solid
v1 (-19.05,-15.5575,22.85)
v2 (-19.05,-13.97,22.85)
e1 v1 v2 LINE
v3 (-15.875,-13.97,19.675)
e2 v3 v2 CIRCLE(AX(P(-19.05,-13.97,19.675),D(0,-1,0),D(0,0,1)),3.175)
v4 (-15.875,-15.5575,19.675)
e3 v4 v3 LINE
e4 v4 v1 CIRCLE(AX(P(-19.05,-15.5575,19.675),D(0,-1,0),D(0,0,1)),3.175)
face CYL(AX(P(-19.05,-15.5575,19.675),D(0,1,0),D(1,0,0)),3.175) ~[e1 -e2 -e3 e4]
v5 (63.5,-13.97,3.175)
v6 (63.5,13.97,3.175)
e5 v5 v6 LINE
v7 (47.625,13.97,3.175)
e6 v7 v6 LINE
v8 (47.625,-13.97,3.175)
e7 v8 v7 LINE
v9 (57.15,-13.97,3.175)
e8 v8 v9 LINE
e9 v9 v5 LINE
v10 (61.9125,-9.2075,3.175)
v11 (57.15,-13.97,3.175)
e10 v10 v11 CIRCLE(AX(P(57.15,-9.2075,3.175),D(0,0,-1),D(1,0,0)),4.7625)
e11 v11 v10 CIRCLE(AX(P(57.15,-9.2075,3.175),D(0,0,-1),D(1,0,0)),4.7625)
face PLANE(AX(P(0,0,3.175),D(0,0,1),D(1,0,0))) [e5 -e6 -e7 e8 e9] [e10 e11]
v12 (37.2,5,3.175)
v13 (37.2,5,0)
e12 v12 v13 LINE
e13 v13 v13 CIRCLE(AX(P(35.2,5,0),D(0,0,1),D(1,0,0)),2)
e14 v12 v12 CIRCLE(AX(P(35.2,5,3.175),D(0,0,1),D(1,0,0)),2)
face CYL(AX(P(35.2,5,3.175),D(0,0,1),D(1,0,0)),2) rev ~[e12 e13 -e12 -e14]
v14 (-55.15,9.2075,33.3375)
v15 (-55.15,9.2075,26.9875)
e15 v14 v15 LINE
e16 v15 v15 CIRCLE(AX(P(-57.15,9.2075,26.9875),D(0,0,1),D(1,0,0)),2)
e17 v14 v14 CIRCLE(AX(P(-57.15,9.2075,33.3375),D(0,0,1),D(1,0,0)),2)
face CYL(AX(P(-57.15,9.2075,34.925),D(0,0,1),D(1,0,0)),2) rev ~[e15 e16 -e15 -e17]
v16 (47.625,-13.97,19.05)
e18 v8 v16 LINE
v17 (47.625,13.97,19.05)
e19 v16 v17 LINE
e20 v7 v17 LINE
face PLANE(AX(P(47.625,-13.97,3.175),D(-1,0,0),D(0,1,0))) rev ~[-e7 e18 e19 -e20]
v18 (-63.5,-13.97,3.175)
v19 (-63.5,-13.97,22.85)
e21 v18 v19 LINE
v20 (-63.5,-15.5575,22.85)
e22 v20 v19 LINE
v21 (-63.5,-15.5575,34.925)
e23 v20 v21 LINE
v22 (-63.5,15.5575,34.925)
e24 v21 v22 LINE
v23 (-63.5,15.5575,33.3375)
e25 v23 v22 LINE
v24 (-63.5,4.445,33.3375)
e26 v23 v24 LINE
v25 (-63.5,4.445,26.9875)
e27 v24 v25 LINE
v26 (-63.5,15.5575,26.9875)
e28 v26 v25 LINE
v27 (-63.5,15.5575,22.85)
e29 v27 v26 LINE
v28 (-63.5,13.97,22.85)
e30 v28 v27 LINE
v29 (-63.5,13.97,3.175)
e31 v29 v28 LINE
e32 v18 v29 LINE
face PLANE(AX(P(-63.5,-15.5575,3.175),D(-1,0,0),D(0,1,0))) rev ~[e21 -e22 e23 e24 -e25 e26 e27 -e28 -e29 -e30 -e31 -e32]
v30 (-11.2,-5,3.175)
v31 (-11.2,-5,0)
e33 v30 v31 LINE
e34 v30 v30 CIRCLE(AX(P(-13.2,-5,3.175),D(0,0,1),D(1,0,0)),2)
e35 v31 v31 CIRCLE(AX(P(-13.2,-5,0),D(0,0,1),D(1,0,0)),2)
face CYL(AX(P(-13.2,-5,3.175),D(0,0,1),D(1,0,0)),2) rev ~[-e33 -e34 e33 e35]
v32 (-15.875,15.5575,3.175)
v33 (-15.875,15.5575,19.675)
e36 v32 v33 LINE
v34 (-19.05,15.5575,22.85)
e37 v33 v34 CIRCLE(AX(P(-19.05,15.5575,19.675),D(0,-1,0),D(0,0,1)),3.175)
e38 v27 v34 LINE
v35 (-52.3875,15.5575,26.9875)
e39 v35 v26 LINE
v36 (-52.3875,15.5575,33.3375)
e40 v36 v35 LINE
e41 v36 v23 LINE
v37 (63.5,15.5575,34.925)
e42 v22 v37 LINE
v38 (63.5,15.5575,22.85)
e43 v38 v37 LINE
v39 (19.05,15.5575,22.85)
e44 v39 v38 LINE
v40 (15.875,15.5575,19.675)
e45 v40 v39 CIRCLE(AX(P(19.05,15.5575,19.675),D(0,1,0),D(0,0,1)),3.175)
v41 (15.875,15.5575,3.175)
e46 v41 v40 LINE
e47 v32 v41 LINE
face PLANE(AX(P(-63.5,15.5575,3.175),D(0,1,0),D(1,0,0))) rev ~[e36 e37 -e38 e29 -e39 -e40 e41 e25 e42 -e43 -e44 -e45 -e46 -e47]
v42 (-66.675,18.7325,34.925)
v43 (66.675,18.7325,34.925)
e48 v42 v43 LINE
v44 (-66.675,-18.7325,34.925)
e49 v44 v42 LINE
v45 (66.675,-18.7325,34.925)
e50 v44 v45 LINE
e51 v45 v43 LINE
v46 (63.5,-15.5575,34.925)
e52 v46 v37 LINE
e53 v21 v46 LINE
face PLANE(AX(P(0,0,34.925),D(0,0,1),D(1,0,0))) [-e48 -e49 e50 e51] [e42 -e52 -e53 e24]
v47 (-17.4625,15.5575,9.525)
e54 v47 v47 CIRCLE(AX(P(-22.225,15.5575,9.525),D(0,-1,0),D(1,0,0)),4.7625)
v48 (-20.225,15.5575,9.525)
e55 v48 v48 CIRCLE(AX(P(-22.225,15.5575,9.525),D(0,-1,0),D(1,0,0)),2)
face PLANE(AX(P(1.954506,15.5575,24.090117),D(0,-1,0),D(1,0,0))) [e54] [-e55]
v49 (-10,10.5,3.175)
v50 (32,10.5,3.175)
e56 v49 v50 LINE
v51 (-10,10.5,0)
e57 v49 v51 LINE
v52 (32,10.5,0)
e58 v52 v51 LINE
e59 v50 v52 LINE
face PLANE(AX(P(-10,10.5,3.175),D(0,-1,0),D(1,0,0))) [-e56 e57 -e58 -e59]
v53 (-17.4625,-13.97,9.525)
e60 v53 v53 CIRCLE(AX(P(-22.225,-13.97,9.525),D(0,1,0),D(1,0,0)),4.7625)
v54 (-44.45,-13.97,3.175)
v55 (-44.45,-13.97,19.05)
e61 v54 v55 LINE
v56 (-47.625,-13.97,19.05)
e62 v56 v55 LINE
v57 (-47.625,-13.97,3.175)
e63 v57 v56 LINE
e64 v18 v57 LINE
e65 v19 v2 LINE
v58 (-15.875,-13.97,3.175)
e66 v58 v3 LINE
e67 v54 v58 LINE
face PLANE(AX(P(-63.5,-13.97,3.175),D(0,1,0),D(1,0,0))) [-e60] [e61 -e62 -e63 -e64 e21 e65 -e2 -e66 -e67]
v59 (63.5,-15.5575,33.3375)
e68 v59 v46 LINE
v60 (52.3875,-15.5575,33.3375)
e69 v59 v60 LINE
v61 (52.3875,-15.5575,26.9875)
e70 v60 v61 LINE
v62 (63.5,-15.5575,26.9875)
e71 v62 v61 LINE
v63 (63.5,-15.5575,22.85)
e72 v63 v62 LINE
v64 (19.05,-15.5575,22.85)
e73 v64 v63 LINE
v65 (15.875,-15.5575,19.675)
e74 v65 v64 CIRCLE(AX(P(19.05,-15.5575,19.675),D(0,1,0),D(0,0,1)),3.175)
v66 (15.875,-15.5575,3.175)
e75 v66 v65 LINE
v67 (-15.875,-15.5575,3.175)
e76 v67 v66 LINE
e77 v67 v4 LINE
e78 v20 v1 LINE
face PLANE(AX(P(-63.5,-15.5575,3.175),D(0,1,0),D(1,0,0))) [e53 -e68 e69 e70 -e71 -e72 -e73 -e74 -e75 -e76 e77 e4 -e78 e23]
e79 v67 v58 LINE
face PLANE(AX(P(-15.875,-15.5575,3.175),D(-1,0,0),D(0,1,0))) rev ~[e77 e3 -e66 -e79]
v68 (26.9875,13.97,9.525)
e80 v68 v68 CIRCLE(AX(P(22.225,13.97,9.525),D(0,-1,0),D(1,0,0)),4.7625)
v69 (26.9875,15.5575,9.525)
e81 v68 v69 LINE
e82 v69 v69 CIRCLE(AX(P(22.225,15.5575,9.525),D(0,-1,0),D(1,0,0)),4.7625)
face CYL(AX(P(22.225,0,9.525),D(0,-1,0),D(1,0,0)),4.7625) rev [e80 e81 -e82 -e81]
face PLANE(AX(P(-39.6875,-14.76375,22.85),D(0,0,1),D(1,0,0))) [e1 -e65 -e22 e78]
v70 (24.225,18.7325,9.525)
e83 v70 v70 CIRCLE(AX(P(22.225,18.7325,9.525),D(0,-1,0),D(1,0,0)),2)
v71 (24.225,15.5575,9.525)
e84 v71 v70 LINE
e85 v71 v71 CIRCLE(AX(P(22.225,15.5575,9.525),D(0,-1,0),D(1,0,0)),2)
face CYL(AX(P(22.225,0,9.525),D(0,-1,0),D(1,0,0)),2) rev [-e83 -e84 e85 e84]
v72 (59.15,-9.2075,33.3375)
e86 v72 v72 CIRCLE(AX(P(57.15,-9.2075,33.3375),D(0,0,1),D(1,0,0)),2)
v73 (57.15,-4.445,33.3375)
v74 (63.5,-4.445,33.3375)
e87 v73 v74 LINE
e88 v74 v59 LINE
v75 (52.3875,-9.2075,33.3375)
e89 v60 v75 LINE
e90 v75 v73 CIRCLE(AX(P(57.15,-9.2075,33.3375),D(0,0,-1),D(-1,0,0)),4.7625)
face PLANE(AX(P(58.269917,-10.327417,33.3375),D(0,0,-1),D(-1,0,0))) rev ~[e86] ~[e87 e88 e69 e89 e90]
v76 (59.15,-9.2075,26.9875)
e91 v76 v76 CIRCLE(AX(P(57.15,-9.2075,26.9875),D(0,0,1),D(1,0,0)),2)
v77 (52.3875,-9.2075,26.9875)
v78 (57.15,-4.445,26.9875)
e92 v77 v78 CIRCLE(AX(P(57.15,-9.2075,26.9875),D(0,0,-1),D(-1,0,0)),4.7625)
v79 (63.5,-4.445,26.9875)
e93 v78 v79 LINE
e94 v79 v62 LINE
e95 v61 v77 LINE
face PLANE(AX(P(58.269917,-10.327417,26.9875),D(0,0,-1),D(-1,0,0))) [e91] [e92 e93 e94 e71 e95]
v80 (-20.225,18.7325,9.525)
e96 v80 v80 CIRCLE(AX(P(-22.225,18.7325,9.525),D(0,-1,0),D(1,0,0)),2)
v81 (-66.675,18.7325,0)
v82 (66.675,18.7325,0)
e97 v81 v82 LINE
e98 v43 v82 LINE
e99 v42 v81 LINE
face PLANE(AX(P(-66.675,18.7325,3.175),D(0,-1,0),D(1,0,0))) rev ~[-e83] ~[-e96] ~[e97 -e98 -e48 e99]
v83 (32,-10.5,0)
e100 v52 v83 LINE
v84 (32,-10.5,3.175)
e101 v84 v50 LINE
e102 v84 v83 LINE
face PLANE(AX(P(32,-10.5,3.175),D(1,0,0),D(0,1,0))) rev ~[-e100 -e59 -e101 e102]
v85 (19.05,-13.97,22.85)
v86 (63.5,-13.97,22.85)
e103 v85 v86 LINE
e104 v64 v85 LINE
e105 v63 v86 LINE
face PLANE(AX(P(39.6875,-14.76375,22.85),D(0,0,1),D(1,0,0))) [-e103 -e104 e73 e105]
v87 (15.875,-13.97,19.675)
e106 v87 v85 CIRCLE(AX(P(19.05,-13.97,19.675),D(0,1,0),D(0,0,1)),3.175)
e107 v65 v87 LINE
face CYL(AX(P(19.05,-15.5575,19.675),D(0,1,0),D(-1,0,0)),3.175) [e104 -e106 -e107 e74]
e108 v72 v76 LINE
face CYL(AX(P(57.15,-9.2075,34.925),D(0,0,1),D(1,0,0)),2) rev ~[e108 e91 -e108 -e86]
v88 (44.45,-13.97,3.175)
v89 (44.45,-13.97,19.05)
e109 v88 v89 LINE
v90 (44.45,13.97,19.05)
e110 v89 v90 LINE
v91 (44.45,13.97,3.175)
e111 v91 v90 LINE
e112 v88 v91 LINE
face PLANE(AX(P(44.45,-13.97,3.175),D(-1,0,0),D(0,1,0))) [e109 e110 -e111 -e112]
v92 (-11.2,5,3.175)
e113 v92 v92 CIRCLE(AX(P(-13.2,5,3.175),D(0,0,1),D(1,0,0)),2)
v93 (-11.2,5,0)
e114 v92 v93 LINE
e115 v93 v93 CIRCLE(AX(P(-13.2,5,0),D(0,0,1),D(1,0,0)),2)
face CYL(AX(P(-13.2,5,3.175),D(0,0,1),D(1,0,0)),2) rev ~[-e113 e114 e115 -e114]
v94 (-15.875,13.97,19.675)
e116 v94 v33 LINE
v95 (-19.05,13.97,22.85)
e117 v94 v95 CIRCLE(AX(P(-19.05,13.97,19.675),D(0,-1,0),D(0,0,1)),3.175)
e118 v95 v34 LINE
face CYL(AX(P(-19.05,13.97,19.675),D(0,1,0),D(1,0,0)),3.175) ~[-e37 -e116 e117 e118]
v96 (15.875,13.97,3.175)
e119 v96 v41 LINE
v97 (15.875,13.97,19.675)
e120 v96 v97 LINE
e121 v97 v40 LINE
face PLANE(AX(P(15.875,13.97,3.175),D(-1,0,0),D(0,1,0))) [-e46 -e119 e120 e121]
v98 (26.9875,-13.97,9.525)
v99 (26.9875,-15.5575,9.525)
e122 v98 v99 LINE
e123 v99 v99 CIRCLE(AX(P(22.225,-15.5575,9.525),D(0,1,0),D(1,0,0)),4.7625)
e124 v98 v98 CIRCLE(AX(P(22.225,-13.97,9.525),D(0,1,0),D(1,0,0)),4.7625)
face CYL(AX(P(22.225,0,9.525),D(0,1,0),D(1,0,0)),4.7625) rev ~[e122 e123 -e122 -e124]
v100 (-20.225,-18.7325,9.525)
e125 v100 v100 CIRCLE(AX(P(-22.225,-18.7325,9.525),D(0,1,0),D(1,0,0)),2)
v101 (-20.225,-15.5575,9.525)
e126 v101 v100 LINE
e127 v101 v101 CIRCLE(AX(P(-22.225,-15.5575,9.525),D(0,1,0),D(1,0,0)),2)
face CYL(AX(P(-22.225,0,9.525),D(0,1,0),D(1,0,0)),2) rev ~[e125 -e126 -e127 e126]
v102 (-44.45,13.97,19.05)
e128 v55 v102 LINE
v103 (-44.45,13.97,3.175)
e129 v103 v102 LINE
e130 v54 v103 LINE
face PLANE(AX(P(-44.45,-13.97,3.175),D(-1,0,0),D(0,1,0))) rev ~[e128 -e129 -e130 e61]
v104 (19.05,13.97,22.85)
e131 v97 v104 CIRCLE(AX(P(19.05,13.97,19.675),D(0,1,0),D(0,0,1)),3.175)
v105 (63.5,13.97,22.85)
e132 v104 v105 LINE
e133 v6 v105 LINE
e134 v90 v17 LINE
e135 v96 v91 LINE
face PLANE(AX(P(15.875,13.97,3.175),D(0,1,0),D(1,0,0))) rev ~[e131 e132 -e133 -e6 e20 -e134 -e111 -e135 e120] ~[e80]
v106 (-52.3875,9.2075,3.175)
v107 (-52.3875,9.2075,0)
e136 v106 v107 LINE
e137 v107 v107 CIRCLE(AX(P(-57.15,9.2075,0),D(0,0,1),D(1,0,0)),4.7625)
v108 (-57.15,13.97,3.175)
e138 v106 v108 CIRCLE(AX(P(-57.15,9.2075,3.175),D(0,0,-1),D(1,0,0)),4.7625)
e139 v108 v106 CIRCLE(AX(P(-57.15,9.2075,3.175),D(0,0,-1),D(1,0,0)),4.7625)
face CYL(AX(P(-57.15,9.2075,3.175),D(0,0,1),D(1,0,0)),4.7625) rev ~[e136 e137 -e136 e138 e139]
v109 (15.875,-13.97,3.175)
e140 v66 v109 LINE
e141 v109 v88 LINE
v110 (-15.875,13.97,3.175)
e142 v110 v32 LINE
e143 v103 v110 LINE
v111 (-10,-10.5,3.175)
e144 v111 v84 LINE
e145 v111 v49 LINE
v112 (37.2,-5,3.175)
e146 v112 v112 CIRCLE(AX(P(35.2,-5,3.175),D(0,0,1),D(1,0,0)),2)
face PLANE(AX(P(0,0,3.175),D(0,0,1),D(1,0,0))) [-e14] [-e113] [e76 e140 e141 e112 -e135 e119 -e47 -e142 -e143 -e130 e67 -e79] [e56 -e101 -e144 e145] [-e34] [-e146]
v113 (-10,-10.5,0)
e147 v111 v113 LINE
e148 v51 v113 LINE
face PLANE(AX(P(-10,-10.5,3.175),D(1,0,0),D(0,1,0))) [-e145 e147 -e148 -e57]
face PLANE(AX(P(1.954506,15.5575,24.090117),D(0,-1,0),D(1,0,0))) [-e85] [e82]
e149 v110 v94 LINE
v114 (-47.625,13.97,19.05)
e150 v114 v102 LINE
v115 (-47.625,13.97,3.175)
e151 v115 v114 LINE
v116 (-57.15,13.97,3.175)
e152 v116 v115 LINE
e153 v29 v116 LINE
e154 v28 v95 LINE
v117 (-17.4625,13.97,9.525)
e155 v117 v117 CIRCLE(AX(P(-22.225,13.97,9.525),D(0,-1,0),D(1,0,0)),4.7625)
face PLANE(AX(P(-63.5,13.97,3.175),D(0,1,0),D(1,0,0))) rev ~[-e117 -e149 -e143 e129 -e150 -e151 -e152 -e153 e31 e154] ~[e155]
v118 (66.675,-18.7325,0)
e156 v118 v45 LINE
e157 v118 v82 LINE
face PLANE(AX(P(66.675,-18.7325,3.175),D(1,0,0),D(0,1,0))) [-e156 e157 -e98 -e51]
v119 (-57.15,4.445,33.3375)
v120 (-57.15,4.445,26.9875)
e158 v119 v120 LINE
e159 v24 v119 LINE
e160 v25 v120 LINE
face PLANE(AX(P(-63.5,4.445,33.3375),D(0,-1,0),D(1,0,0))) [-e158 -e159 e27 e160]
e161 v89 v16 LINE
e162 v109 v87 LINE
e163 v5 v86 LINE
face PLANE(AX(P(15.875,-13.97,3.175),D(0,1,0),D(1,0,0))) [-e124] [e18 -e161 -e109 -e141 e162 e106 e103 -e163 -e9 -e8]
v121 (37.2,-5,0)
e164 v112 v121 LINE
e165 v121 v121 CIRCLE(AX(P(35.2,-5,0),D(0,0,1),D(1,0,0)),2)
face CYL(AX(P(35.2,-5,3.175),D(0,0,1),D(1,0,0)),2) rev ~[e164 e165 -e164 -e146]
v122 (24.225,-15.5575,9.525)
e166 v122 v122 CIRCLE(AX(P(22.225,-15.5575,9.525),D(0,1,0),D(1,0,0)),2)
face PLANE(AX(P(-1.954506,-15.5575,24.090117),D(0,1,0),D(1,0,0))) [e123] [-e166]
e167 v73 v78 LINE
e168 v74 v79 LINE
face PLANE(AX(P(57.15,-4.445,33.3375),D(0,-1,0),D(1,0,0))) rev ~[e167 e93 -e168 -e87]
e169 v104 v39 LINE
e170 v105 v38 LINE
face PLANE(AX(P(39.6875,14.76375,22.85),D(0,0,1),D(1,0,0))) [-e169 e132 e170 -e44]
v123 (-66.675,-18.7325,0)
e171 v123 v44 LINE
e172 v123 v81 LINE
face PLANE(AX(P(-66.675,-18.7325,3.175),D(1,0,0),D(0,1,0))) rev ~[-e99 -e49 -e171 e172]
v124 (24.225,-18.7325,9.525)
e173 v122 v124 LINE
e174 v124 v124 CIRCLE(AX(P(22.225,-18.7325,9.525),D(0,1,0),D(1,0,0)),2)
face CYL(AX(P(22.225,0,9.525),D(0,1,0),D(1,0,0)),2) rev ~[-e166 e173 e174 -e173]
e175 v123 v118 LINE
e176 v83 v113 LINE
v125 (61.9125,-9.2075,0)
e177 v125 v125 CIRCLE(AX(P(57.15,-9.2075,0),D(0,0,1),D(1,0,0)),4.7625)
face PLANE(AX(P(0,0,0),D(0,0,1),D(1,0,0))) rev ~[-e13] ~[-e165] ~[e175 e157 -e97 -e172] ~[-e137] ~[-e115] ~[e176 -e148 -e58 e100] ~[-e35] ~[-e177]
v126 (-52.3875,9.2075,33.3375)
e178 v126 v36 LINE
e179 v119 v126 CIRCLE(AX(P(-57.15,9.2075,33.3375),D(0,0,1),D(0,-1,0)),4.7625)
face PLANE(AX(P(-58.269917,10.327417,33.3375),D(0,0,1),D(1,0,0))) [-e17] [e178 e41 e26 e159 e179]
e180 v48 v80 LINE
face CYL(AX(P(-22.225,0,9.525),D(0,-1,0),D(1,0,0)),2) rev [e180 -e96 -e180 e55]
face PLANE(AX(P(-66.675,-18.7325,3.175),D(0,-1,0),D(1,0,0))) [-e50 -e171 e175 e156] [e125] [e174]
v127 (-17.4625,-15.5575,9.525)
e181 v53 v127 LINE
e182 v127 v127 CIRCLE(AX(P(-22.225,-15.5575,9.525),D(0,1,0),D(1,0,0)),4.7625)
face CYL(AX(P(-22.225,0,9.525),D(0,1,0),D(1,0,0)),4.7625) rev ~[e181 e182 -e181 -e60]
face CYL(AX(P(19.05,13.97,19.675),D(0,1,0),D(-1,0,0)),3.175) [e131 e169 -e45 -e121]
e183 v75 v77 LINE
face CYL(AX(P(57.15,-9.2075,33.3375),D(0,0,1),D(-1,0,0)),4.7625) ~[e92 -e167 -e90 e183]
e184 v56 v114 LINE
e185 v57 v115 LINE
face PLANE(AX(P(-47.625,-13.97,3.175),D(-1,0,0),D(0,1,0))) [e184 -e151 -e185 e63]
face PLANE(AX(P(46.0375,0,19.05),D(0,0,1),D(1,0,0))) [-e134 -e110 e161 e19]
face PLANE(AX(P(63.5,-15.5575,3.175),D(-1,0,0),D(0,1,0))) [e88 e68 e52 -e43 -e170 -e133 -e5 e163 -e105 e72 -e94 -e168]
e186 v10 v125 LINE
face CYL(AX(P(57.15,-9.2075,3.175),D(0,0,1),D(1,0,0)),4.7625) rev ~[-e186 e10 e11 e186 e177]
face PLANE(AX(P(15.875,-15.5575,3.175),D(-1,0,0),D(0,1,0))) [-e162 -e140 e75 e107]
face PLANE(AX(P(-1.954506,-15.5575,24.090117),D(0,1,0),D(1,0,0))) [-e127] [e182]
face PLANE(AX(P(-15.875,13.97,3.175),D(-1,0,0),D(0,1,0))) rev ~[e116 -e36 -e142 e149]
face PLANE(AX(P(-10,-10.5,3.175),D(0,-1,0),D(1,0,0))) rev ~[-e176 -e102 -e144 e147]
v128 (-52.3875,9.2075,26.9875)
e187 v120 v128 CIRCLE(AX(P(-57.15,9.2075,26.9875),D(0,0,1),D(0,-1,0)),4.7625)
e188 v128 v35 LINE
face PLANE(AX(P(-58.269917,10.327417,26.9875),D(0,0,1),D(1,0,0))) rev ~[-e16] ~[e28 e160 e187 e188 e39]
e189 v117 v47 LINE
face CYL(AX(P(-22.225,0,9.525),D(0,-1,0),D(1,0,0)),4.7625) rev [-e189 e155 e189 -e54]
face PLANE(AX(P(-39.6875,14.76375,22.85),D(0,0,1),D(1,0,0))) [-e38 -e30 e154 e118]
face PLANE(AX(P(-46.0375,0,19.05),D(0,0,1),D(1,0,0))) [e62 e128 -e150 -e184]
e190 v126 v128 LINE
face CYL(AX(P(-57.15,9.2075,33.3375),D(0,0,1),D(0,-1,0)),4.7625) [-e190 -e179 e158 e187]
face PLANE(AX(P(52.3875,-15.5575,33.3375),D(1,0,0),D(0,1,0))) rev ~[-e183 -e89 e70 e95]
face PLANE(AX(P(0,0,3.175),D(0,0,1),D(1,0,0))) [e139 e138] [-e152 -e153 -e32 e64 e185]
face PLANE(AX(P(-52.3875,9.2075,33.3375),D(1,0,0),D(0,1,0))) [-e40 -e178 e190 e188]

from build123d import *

# Parameters (mm, degrees)
SKETCH1_W                      = 127
SKETCH1_H                      = 31.115
BOSS_EXTRUDE1_DEPTH            = 3.175
CUT_EXTRUDE1_REACH             = 5.175
SKETCH2_R                      = 2
SKETCH2_W                      = 42
SKETCH2_H                      = 21
SKETCH3_W                      = 133.35
SKETCH3_H                      = 37.465
SKETCH3_W_2                    = 127
SKETCH3_H_2                    = 31.115
EXTRUDE_THIN1_DEPTH            = 31.75
EXTRUDE_THIN1_DEPTH_BACK       = 3.175
SKETCH4_W                      = 47.625
SKETCH4_H                      = 1.5875
BOSS_EXTRUDE2_DEPTH            = 19.67500002
CUT_EXTRUDE2_REACH             = 5.175
SKETCH6_R                      = 4.7625
BOSS_EXTRUDE4_START            = -1.5875
BOSS_EXTRUDE4_DEPTH            = 6.35
CUT_EXTRUDE3_REACH             = 36.925
SKETCH8_R                      = 2
SKETCH9_R                      = 2
CUT_EXTRUDE4_DEPTH             = 19.7325
CUT_EXTRUDE4_DEPTH_BACK        = 19.7325
SKETCH5_W                      = 3.175
SKETCH5_H                      = 27.94
BOSS_EXTRUDE3_DEPTH            = 15.875
FILLET1_R                      = 3.175
CUT_EXTRUDE5_REACH             = 20.733
SKETCH10_R                     = 4.7625
CUT_EXTRUDE5_DIRECTION_2_REACH = 20.733


with BuildPart() as part:
    # Sketch1 → Boss-Extrude1 (new body)
    with BuildSketch(Plane.XY):
        Rectangle(SKETCH1_W, SKETCH1_H)
    extrude(amount=BOSS_EXTRUDE1_DEPTH)

    # Sketch2 → Cut-Extrude1 (cut, up to next)
    with BuildSketch(Plane.XY.offset(3.175), mode=Mode.PRIVATE) as cut_extrude1_sk1:
        with Locations((-13.2, 5)):
            Circle(SKETCH2_R)
    cut_extrude1_tool1 = extrude(cut_extrude1_sk1.sketch, amount=-CUT_EXTRUDE1_REACH, mode=Mode.PRIVATE) & part.part
    add(cut_extrude1_tool1.solids().sort_by_distance((-13.2, 5, 3.175))[0], mode=Mode.SUBTRACT)
    # Sketch2 → Cut-Extrude1 (cut, up to next)
    with BuildSketch(Plane.XY.offset(3.175), mode=Mode.PRIVATE) as cut_extrude1_sk2:
        with Locations((-13.2, -5)):
            Circle(SKETCH2_R)
    cut_extrude1_tool2 = extrude(cut_extrude1_sk2.sketch, amount=-CUT_EXTRUDE1_REACH, mode=Mode.PRIVATE) & part.part
    add(cut_extrude1_tool2.solids().sort_by_distance((-13.2, -5, 3.175))[0], mode=Mode.SUBTRACT)
    # Sketch2 → Cut-Extrude1 (cut, up to next)
    with BuildSketch(Plane.XY.offset(3.175), mode=Mode.PRIVATE) as cut_extrude1_sk3:
        with Locations((35.2, 5)):
            Circle(SKETCH2_R)
    cut_extrude1_tool3 = extrude(cut_extrude1_sk3.sketch, amount=-CUT_EXTRUDE1_REACH, mode=Mode.PRIVATE) & part.part
    add(cut_extrude1_tool3.solids().sort_by_distance((35.2, 5, 3.175))[0], mode=Mode.SUBTRACT)
    # Sketch2 → Cut-Extrude1 (cut, up to next)
    with BuildSketch(Plane.XY.offset(3.175), mode=Mode.PRIVATE) as cut_extrude1_sk4:
        with Locations((35.2, -5)):
            Circle(SKETCH2_R)
    cut_extrude1_tool4 = extrude(cut_extrude1_sk4.sketch, amount=-CUT_EXTRUDE1_REACH, mode=Mode.PRIVATE) & part.part
    add(cut_extrude1_tool4.solids().sort_by_distance((35.2, -5, 3.175))[0], mode=Mode.SUBTRACT)
    # Sketch2 → Cut-Extrude1 (cut, up to next)
    with BuildSketch(Plane.XY.offset(3.175), mode=Mode.PRIVATE) as cut_extrude1_sk5:
        with Locations((11, 0)):
            Rectangle(SKETCH2_W, SKETCH2_H)
    cut_extrude1_tool5 = extrude(cut_extrude1_sk5.sketch, amount=-CUT_EXTRUDE1_REACH, mode=Mode.PRIVATE) & part.part
    add(cut_extrude1_tool5.solids().sort_by_distance((11, 0, 3.175))[0], mode=Mode.SUBTRACT)

    # Sketch3 → Extrude-Thin1 (add, two sides)
    with BuildSketch(Plane.XY.offset(3.175)) as extrude_thin1_sk:
        Rectangle(SKETCH3_W, SKETCH3_H)
        Rectangle(SKETCH3_W_2, SKETCH3_H_2, mode=Mode.SUBTRACT)
    extrude(amount=EXTRUDE_THIN1_DEPTH)
    extrude(extrude_thin1_sk.sketch, amount=-EXTRUDE_THIN1_DEPTH_BACK)

    # Sketch4 → Boss-Extrude2 (add)
    with BuildSketch(Plane.XY.offset(3.175)):
        with Locations((-39.6875, -14.76375)):
            Rectangle(SKETCH4_W, SKETCH4_H)
        with Locations((39.6875, -14.76375)):
            Rectangle(SKETCH4_W, SKETCH4_H)
        with Locations((-39.6875, 14.76375)):
            Rectangle(SKETCH4_W, SKETCH4_H)
        with Locations((39.6875, 14.76375)):
            Rectangle(SKETCH4_W, SKETCH4_H)
    extrude(amount=BOSS_EXTRUDE2_DEPTH)

    # Sketch6 → Cut-Extrude2 (cut, up to next)
    with BuildSketch(Plane.XY.offset(3.175), mode=Mode.PRIVATE) as cut_extrude2_sk1:
        with Locations((-57.15, 9.2075)):
            Circle(SKETCH6_R)
    cut_extrude2_tool1 = extrude(cut_extrude2_sk1.sketch, amount=-CUT_EXTRUDE2_REACH, mode=Mode.PRIVATE) & part.part
    add(cut_extrude2_tool1.solids().sort_by_distance((-57.15, 9.2075, 3.175))[0], mode=Mode.SUBTRACT)
    # Sketch6 → Cut-Extrude2 (cut, up to next)
    with BuildSketch(Plane.XY.offset(3.175), mode=Mode.PRIVATE) as cut_extrude2_sk2:
        with Locations((57.15, -9.2075)):
            Circle(SKETCH6_R)
    cut_extrude2_tool2 = extrude(cut_extrude2_sk2.sketch, amount=-CUT_EXTRUDE2_REACH, mode=Mode.PRIVATE) & part.part
    add(cut_extrude2_tool2.solids().sort_by_distance((57.15, -9.2075, 3.175))[0], mode=Mode.SUBTRACT)

    # Sketch7 → Boss-Extrude4 (add)
    with BuildSketch(Plane.XY.offset(34.925).offset(BOSS_EXTRUDE4_START)):
        with BuildLine():
            Line((-63.5, 15.5575), (-63.5, 4.445))
            Line((-63.5, 4.445), (-57.15, 4.445))
            ThreePointArc((-57.15, 4.445), (-53.782403955, 5.839903955), (-52.3875, 9.2075))
            Line((-52.3875, 9.2075), (-52.3875, 15.5575))
            Line((-52.3875, 15.5575), (-63.5, 15.5575))
        make_face()
        with BuildLine():
            Line((63.5, -15.5575), (52.3875, -15.5575))
            Line((52.3875, -15.5575), (52.3875, -9.2075))
            ThreePointArc((52.3875, -9.2075), (53.782403955, -5.839903955), (57.15, -4.445))
            Line((57.15, -4.445), (63.5, -4.445))
            Line((63.5, -4.445), (63.5, -15.5575))
        make_face()
    extrude(amount=-BOSS_EXTRUDE4_DEPTH)

    # Sketch8 → Cut-Extrude3 (cut, up to next)
    with BuildSketch(Plane.XY.offset(34.925), mode=Mode.PRIVATE) as cut_extrude3_sk1:
        with Locations((-57.15, 9.2075)):
            Circle(SKETCH8_R)
    cut_extrude3_tool1 = extrude(cut_extrude3_sk1.sketch, amount=-CUT_EXTRUDE3_REACH, mode=Mode.PRIVATE) & part.part
    add(cut_extrude3_tool1.solids().sort_by_distance((-57.15, 9.2075, 34.925))[0], mode=Mode.SUBTRACT)
    # Sketch8 → Cut-Extrude3 (cut, up to next)
    with BuildSketch(Plane.XY.offset(34.925), mode=Mode.PRIVATE) as cut_extrude3_sk2:
        with Locations((57.15, -9.2075)):
            Circle(SKETCH8_R)
    cut_extrude3_tool2 = extrude(cut_extrude3_sk2.sketch, amount=-CUT_EXTRUDE3_REACH, mode=Mode.PRIVATE) & part.part
    add(cut_extrude3_tool2.solids().sort_by_distance((57.15, -9.2075, 34.925))[0], mode=Mode.SUBTRACT)

    # Sketch9 → Cut-Extrude4 (cut, two sides)
    with BuildSketch(Plane(origin=(0, 0, 0), x_dir=(1, 0, 0), z_dir=(0, 1, 0))) as cut_extrude4_sk:
        with Locations((22.225, -9.525)):
            Circle(SKETCH9_R)
        with Locations((-22.225, -9.525)):
            Circle(SKETCH9_R)
    extrude(amount=CUT_EXTRUDE4_DEPTH, mode=Mode.SUBTRACT)
    extrude(cut_extrude4_sk.sketch, amount=-CUT_EXTRUDE4_DEPTH_BACK, mode=Mode.SUBTRACT)

    # Sketch5 → Boss-Extrude3 (add)
    with BuildSketch(Plane.XY.offset(3.175)):
        with Locations((46.0375, 0)):
            Rectangle(SKETCH5_W, SKETCH5_H)
        with Locations((-46.0375, 0)):
            Rectangle(SKETCH5_W, SKETCH5_H)
    extrude(amount=BOSS_EXTRUDE3_DEPTH)

    # Fillet1
    fillet1_edges = [part.edges().sort_by_distance(p)[0] for p in [
        (15.875, 14.76375, 22.85000002),
        (-15.875, -14.76375, 22.85000002),
        (15.875, -14.76375, 22.85000002),
        (-15.875, 14.76375, 22.85000002),
    ]]
    fillet(fillet1_edges, radius=FILLET1_R)

    # Cut-Extrude5: up to this face of the body (flat: up to its plane)
    cut_extrude5_end = Plane(part.part.faces().sort_by_distance((-1.954505757, -15.5575, 24.090116644))[0])
    # Sketch10 → Cut-Extrude5 (cut, up to the picked face)
    with BuildSketch(Plane(origin=(0, 0, 0), x_dir=(1, 0, 0), z_dir=(0, 1, 0)), mode=Mode.PRIVATE) as cut_extrude5_sk1:
        with Locations((-22.225, -9.525)):
            Circle(SKETCH10_R)
    cut_extrude5_tool1 = split(extrude(cut_extrude5_sk1.sketch, amount=-CUT_EXTRUDE5_REACH, mode=Mode.PRIVATE), bisect_by=cut_extrude5_end, keep=Keep.BOTH, mode=Mode.PRIVATE)
    add(cut_extrude5_tool1.solids().sort_by_distance((-22.225, 0, 9.525))[0], mode=Mode.SUBTRACT)
    # Sketch10 → Cut-Extrude5 (cut, up to the picked face)
    with BuildSketch(Plane(origin=(0, 0, 0), x_dir=(1, 0, 0), z_dir=(0, 1, 0)), mode=Mode.PRIVATE) as cut_extrude5_sk2:
        with Locations((22.225, -9.525)):
            Circle(SKETCH10_R)
    cut_extrude5_tool2 = split(extrude(cut_extrude5_sk2.sketch, amount=-CUT_EXTRUDE5_REACH, mode=Mode.PRIVATE), bisect_by=cut_extrude5_end, keep=Keep.BOTH, mode=Mode.PRIVATE)
    add(cut_extrude5_tool2.solids().sort_by_distance((22.225, 0, 9.525))[0], mode=Mode.SUBTRACT)

    # Cut-Extrude5 direction 2: up to this face of the body (flat: up to its plane)
    cut_extrude5_direction_2_end = Plane(part.part.faces().sort_by_distance((1.954505757, 15.5575, 24.090116644))[0])
    # Sketch10 → Cut-Extrude5 direction 2 (cut, up to the picked face)
    with BuildSketch(Plane(origin=(0, 0, 0), x_dir=(1, 0, 0), z_dir=(0, 1, 0)), mode=Mode.PRIVATE) as cut_extrude5_direction_2_sk1:
        with Locations((-22.225, -9.525)):
            Circle(SKETCH10_R)
    cut_extrude5_direction_2_tool1 = split(extrude(cut_extrude5_direction_2_sk1.sketch, amount=CUT_EXTRUDE5_DIRECTION_2_REACH, mode=Mode.PRIVATE), bisect_by=cut_extrude5_direction_2_end, keep=Keep.BOTH, mode=Mode.PRIVATE)
    add(cut_extrude5_direction_2_tool1.solids().sort_by_distance((-22.225, 0, 9.525))[0], mode=Mode.SUBTRACT)
    # Sketch10 → Cut-Extrude5 direction 2 (cut, up to the picked face)
    with BuildSketch(Plane(origin=(0, 0, 0), x_dir=(1, 0, 0), z_dir=(0, 1, 0)), mode=Mode.PRIVATE) as cut_extrude5_direction_2_sk2:
        with Locations((22.225, -9.525)):
            Circle(SKETCH10_R)
    cut_extrude5_direction_2_tool2 = split(extrude(cut_extrude5_direction_2_sk2.sketch, amount=CUT_EXTRUDE5_DIRECTION_2_REACH, mode=Mode.PRIVATE), bisect_by=cut_extrude5_direction_2_end, keep=Keep.BOTH, mode=Mode.PRIVATE)
    add(cut_extrude5_direction_2_tool2.solids().sort_by_distance((22.225, 0, 9.525))[0], mode=Mode.SUBTRACT)


solid = part.part
